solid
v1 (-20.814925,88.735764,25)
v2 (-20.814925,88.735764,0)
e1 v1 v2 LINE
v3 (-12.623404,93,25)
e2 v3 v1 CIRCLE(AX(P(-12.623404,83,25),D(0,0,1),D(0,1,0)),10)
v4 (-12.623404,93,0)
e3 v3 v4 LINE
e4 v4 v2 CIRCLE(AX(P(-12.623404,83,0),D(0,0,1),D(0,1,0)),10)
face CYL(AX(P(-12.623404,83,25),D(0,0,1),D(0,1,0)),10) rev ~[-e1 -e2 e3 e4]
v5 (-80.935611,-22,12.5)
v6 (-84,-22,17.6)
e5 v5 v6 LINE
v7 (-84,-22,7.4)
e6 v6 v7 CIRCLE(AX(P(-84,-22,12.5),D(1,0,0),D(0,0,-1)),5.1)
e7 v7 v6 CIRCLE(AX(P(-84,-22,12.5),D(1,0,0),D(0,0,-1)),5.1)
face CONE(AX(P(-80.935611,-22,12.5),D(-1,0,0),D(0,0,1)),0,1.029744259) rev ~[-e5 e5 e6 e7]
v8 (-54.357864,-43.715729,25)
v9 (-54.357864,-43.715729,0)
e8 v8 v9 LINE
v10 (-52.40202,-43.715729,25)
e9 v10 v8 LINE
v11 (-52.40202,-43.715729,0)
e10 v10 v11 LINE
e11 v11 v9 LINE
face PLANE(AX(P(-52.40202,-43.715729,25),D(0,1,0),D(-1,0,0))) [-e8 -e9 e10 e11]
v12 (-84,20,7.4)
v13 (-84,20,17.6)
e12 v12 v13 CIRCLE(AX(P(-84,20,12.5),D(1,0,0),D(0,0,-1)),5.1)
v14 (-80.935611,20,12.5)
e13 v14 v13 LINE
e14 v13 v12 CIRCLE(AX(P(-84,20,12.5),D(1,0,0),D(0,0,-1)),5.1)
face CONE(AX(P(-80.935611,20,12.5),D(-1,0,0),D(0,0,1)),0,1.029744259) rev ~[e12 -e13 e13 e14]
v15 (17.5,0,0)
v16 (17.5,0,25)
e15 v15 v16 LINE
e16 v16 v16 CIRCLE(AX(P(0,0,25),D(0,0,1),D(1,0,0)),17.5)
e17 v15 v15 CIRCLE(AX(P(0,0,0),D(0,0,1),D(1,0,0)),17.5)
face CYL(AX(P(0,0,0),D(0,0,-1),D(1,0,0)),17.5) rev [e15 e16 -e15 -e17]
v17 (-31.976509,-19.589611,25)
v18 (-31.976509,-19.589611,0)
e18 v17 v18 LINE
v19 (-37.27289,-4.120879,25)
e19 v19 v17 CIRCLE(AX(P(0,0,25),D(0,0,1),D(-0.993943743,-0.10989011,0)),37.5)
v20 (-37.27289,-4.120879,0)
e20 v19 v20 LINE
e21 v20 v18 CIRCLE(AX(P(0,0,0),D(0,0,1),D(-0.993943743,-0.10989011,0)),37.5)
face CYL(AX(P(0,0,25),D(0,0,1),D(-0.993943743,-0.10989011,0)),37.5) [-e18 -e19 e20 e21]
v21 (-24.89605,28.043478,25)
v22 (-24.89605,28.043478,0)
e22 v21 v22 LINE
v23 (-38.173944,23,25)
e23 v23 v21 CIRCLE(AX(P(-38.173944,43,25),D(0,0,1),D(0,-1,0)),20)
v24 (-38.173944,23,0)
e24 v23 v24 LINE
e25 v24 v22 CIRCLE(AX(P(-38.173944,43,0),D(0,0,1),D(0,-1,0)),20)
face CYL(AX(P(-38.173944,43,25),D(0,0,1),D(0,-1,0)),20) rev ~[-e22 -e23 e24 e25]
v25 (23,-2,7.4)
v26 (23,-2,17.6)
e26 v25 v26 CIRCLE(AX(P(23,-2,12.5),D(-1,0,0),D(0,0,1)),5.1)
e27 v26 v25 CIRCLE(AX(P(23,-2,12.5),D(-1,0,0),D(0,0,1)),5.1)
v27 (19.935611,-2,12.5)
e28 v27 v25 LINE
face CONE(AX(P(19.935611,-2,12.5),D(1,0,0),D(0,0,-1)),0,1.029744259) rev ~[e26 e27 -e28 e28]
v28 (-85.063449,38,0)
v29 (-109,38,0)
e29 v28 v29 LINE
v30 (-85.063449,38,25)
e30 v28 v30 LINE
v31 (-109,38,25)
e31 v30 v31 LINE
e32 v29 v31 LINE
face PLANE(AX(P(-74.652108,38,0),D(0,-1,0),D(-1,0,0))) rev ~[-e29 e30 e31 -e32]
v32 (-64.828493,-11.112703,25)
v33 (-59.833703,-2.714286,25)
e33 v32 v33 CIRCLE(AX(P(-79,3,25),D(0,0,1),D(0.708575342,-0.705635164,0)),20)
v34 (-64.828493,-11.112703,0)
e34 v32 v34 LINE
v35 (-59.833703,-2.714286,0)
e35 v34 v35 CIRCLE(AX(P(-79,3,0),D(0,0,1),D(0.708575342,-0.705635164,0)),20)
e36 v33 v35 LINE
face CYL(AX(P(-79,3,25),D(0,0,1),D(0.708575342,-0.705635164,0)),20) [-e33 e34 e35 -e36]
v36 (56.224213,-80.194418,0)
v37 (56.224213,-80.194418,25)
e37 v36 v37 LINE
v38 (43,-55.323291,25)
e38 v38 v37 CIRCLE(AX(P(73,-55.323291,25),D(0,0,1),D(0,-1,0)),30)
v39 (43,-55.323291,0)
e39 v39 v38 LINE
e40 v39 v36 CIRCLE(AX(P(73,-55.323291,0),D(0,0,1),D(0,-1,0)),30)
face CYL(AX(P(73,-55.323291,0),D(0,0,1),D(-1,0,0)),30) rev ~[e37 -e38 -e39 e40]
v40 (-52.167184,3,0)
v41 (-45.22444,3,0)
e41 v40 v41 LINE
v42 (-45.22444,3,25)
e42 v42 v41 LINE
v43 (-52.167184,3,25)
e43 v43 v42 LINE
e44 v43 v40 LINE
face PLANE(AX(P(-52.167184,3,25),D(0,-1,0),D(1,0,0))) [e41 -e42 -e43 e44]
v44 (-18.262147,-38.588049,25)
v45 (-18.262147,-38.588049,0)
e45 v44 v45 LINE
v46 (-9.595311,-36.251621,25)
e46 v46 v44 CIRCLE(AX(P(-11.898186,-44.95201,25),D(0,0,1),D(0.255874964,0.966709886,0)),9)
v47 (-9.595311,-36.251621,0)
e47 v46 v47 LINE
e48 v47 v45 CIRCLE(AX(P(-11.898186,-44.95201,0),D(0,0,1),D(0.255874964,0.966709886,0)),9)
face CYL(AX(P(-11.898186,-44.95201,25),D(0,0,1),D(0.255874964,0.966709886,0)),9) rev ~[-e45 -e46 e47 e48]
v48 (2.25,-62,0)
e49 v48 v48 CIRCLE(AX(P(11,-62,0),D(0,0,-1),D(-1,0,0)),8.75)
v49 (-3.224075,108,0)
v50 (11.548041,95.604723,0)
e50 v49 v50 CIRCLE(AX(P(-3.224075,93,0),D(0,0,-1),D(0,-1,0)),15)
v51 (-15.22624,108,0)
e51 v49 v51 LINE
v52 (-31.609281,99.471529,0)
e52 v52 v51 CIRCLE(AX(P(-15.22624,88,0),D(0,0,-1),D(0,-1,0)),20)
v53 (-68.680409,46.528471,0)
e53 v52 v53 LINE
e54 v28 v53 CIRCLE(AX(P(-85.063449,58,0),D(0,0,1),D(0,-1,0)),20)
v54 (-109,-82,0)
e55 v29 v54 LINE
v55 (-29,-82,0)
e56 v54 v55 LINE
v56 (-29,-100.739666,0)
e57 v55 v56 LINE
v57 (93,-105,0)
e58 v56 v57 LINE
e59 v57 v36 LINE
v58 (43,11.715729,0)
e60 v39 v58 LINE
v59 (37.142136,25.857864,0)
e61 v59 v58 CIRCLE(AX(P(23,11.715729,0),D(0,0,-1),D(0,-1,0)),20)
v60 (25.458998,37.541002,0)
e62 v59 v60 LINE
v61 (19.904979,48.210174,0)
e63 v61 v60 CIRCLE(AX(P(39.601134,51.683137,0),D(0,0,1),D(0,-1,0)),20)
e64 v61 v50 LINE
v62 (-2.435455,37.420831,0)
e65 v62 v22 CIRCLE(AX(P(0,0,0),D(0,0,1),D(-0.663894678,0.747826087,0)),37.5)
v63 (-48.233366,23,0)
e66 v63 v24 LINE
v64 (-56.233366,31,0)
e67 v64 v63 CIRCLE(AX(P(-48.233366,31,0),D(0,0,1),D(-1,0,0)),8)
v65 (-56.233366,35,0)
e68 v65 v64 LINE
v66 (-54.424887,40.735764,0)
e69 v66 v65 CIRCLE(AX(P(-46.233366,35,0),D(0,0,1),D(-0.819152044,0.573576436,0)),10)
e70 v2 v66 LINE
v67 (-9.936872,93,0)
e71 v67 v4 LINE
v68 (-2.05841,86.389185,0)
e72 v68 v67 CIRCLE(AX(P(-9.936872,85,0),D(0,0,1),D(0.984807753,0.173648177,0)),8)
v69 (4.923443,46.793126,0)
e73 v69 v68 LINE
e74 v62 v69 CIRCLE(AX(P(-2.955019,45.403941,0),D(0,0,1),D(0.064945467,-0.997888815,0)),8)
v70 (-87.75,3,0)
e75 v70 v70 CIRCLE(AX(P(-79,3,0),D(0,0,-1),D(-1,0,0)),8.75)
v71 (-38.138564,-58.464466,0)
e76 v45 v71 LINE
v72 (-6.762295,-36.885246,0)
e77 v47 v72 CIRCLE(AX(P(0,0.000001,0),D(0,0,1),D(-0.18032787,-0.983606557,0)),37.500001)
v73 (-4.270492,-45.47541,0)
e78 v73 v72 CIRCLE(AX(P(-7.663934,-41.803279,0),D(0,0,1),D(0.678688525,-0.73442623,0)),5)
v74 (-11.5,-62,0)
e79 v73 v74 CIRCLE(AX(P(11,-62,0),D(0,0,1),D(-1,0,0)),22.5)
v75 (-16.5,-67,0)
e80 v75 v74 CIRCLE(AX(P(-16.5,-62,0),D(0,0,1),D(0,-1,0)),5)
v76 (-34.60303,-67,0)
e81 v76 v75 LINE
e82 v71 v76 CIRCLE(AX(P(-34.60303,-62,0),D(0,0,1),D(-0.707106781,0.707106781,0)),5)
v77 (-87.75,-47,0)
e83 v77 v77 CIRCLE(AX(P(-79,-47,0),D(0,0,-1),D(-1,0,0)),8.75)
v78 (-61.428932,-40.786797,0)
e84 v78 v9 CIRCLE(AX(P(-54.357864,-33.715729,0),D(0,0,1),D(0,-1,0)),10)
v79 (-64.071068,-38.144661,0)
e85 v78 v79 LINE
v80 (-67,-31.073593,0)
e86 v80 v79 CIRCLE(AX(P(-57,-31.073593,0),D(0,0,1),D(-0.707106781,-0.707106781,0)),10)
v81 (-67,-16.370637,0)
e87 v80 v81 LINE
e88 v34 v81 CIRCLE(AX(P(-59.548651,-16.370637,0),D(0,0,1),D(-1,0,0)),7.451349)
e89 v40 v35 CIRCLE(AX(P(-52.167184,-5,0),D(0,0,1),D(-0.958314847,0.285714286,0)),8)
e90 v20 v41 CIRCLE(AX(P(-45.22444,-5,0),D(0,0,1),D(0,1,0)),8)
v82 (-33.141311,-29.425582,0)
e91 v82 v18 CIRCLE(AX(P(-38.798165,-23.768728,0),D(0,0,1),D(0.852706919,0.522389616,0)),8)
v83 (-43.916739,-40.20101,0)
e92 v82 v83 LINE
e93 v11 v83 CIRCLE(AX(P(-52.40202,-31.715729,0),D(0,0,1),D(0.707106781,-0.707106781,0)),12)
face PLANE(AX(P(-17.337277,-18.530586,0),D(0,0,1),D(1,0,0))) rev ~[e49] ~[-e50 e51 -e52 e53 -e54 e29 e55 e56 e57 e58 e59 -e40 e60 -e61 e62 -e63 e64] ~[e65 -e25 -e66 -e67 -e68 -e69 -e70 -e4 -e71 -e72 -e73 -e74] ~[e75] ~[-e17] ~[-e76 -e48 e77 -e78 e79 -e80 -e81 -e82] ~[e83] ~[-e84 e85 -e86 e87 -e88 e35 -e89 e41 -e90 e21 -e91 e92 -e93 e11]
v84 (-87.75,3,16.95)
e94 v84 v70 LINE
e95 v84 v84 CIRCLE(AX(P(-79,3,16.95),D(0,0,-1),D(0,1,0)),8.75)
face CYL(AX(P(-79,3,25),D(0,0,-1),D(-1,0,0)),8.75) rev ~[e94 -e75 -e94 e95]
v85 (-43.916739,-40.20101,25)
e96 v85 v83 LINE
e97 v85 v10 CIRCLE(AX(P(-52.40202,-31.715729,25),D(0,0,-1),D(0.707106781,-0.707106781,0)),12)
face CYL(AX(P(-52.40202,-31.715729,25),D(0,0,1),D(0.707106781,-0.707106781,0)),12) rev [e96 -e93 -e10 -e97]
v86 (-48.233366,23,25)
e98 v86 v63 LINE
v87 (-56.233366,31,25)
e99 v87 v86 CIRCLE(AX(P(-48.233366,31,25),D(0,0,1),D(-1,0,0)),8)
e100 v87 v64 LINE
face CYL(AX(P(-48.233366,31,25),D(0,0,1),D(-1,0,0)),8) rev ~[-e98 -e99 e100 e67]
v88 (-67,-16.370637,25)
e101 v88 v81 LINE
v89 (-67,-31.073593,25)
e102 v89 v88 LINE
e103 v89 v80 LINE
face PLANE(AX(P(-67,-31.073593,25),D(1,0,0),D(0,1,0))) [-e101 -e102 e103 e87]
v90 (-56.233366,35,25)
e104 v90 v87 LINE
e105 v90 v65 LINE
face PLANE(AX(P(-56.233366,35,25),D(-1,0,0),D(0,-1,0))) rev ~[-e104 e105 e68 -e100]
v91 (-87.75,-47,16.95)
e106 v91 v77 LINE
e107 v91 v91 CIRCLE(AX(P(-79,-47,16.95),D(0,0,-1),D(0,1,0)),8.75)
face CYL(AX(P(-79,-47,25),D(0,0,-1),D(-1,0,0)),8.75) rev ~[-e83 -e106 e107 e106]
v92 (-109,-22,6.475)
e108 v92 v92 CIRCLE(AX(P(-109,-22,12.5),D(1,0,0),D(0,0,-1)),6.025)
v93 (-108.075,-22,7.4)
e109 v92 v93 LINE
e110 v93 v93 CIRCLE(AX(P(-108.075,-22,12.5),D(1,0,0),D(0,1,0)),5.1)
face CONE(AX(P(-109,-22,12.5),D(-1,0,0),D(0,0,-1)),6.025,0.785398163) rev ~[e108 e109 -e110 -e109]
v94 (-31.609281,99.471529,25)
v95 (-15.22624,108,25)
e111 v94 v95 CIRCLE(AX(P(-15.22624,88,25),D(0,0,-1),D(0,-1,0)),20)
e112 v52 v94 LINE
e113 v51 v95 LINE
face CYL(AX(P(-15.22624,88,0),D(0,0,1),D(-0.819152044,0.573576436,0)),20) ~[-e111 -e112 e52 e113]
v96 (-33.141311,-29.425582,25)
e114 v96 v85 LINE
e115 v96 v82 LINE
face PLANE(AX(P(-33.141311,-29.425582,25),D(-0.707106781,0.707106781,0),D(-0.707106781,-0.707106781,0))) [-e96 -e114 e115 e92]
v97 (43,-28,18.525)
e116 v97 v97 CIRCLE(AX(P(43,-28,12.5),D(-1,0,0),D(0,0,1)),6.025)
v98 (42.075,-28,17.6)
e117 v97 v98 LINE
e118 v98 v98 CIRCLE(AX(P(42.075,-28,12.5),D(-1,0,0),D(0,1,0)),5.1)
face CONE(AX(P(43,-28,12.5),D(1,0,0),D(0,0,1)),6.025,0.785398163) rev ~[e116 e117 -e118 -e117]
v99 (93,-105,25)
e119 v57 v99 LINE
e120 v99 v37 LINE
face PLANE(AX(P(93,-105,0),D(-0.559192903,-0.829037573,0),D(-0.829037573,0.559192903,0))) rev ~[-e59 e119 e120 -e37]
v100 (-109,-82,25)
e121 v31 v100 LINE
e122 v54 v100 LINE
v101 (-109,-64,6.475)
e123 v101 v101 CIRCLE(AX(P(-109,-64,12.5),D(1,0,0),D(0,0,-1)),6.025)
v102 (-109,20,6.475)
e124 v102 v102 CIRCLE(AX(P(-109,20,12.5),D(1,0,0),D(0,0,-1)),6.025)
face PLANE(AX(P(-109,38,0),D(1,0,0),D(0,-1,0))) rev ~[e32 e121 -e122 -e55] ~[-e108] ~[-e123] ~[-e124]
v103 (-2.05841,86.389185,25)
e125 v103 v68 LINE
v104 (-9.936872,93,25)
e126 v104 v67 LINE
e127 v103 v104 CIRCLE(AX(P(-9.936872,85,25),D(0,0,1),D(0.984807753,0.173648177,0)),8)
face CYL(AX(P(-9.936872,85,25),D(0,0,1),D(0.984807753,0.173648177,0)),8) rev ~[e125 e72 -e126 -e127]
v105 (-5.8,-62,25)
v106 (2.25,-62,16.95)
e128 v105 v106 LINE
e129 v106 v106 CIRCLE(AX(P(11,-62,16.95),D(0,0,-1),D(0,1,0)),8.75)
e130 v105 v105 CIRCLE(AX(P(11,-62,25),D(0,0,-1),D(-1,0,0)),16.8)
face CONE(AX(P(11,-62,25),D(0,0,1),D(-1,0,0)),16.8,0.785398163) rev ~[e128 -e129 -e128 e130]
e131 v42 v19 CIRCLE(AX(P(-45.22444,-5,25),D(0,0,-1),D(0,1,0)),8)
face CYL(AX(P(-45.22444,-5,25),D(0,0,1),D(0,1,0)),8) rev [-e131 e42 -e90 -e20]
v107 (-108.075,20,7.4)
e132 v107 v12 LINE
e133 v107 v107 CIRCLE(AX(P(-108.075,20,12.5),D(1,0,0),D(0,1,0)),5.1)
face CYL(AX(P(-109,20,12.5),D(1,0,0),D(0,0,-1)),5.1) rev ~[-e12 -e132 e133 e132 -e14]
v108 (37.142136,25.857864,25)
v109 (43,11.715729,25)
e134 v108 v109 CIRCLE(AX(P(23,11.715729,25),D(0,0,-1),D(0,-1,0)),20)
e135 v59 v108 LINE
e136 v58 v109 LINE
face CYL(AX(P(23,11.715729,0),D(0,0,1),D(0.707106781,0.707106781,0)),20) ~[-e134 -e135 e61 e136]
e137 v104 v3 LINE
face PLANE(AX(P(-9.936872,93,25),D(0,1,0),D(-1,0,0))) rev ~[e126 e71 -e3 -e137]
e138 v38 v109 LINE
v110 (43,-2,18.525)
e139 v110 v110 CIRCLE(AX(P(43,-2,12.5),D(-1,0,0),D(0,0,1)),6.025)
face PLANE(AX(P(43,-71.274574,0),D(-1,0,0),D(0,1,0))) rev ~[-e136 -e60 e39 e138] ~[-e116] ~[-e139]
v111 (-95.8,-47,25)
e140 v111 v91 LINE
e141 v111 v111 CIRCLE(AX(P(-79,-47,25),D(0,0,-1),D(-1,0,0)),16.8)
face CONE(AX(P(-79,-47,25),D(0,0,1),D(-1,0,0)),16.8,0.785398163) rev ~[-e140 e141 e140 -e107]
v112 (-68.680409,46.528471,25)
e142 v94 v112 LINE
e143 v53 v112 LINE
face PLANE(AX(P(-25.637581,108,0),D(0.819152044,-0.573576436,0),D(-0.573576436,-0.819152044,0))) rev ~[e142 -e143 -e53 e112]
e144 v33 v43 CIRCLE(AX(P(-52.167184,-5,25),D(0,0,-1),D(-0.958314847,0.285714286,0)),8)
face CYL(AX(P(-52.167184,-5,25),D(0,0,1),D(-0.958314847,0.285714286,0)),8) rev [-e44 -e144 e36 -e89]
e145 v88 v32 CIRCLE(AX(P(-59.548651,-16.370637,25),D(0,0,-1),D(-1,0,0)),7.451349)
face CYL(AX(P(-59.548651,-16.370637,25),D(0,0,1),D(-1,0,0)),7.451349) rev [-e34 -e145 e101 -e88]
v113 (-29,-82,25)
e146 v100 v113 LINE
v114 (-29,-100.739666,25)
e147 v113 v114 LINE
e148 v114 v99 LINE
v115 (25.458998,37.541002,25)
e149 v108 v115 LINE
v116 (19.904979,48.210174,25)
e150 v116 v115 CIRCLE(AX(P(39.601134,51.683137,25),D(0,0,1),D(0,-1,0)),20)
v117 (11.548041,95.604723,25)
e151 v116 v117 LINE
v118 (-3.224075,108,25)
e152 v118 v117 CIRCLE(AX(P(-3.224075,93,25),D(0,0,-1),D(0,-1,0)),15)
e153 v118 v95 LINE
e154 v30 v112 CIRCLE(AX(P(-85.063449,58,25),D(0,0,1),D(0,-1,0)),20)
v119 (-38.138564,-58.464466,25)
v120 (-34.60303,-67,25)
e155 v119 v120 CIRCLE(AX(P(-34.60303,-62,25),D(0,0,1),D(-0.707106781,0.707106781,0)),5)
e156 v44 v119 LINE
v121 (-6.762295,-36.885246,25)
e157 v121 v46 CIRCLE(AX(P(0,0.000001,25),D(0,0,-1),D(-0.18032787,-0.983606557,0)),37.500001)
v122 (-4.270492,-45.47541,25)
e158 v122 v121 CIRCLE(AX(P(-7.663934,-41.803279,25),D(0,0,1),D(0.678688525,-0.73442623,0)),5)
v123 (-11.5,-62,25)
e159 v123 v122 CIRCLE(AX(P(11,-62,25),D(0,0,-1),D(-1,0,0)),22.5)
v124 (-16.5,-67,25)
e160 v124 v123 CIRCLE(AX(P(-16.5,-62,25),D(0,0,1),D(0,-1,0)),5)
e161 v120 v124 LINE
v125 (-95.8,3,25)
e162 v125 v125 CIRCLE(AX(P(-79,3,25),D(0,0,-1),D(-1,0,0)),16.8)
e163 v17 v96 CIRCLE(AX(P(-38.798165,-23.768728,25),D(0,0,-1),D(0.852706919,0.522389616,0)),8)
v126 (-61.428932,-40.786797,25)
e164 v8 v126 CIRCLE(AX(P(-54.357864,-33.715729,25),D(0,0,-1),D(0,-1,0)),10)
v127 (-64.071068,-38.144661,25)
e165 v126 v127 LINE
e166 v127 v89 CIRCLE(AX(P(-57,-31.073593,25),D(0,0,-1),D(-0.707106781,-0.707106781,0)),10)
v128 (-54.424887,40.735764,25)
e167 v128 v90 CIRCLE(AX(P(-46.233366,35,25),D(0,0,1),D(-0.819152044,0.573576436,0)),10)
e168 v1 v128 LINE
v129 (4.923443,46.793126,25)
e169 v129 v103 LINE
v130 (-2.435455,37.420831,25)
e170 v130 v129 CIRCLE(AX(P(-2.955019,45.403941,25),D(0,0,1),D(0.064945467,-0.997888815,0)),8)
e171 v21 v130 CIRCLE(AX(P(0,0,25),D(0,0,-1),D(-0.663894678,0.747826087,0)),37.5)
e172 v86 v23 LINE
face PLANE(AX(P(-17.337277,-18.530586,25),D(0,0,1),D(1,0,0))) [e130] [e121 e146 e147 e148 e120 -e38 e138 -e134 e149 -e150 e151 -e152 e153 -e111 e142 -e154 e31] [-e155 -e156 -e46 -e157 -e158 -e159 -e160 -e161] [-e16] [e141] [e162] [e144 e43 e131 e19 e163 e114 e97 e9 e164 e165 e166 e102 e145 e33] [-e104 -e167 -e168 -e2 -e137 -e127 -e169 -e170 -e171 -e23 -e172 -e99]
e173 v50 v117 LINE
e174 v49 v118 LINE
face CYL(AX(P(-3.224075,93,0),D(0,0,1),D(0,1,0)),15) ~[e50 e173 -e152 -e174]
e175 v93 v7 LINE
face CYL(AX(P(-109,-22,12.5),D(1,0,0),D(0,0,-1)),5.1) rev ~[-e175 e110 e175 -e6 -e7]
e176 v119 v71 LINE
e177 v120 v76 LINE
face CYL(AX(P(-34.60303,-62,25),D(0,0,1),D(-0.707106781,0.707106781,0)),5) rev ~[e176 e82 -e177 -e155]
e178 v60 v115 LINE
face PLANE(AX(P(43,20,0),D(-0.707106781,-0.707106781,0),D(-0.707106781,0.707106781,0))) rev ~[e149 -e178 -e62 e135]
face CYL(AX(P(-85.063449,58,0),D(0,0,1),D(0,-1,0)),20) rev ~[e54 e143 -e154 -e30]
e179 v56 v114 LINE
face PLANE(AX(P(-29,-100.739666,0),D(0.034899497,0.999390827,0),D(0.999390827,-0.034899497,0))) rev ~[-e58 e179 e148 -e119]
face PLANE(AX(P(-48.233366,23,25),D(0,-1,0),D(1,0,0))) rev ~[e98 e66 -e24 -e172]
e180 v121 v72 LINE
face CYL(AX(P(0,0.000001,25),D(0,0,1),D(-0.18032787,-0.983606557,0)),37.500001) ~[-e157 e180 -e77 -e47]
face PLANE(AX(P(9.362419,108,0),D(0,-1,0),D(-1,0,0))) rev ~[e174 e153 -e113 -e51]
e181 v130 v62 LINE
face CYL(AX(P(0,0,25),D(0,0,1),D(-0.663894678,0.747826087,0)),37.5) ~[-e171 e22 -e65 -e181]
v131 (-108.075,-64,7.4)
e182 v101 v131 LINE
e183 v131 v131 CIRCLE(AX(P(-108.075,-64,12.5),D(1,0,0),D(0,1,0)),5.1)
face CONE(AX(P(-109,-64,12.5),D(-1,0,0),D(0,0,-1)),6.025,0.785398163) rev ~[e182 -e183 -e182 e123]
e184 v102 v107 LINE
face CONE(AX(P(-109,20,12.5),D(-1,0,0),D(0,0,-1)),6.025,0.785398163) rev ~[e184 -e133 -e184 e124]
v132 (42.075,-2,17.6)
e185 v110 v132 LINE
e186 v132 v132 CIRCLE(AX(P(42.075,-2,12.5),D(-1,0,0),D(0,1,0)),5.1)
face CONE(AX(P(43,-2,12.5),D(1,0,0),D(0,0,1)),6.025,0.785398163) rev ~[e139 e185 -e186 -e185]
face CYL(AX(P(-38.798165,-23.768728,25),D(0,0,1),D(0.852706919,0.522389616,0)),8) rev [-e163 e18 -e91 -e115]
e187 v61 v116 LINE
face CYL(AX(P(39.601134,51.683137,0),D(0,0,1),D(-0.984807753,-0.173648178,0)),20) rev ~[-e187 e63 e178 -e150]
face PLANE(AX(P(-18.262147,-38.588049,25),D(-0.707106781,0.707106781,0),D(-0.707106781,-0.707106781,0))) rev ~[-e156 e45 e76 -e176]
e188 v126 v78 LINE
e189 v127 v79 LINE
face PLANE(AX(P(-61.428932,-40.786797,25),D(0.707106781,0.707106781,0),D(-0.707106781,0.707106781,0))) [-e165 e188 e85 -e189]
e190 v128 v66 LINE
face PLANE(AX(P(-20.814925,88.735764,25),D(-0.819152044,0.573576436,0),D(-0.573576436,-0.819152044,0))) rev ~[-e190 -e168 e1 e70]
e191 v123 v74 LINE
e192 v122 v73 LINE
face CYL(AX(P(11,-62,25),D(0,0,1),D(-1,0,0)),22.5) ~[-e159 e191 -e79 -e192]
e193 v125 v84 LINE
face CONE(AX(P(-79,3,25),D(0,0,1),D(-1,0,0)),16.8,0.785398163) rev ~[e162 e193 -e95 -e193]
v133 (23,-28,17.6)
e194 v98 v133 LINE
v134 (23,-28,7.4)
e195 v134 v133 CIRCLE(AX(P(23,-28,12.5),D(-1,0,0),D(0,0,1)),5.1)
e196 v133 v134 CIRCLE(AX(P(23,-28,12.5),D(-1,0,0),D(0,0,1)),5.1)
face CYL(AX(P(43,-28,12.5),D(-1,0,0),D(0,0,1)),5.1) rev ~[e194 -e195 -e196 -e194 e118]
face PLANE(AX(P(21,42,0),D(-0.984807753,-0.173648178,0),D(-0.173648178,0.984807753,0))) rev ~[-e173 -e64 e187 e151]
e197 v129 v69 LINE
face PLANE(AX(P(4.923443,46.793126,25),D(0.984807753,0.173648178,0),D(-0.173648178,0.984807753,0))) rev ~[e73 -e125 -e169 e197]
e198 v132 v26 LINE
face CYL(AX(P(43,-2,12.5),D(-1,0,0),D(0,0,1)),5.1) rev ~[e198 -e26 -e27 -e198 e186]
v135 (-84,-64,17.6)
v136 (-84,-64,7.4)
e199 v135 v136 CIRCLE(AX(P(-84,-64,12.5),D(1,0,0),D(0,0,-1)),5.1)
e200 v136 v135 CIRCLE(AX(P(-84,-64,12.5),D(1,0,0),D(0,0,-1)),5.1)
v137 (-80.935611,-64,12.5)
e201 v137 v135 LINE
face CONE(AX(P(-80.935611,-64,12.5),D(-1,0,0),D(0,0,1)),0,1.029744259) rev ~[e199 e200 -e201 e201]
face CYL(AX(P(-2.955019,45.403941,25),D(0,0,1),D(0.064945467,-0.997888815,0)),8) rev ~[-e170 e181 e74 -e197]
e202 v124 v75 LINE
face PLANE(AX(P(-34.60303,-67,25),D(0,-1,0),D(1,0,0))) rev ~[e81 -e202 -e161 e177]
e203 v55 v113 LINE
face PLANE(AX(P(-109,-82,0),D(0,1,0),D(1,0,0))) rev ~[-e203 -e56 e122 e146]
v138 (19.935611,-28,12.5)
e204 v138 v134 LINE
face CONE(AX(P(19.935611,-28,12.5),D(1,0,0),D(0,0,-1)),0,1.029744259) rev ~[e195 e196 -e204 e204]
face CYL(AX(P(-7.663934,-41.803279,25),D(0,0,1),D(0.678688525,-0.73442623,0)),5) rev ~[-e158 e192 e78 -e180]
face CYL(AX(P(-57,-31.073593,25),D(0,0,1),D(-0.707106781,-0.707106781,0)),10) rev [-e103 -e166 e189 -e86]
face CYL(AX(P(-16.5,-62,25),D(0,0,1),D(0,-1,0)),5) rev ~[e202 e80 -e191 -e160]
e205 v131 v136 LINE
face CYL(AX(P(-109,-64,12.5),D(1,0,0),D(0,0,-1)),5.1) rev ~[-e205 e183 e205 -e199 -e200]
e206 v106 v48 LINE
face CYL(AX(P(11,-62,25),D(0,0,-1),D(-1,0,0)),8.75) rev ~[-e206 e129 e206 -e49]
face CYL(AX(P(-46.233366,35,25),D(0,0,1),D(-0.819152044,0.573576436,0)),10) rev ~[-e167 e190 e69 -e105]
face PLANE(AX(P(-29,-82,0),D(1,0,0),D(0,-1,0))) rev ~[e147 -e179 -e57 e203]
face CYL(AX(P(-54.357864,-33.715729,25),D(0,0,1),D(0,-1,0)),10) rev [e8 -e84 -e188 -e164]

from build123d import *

# Parameters (mm, degrees)
ESBO_O1_R                                           = 17.5
RESSALTO_EXTRUS_O1_DEPTH                            = 25
FILETE1_R                                           = 20
FILETE3_R                                           = 15
CORTE_EXTRUS_O1_DEPTH                               = 156.467038307
ESCAREADO_PARA_PARAFUSO_ALLEN_SEXTAVADO_D           = 17.5
ESCAREADO_PARA_PARAFUSO_ALLEN_SEXTAVADO_CSINK_D     = 33.6
ESCAREADO_PARA_PARAFUSO_ALLEN_SEXTAVADO_CSINK_ANGLE = 90
FURO_ROSCADO_DE_M121_D                              = 10.2
FURO_ROSCADO_DE_M121_DEPTH                          = 25
FURO_ROSCADO_DE_M121_CSINK_D                        = 12.05
FURO_ROSCADO_DE_M121_CSINK_ANGLE                    = 90
FURO_ROSCADO_DE_M121_TIP                            = 3.064389157
FURO_ROSCADO_DE_M122_D                              = 10.2
FURO_ROSCADO_DE_M122_DEPTH                          = 20
FURO_ROSCADO_DE_M122_CSINK_D                        = 12.05
FURO_ROSCADO_DE_M122_CSINK_ANGLE                    = 90
FURO_ROSCADO_DE_M122_TIP                            = 3.064389157
FILETE12_R                                          = 30


with BuildPart() as part:
    # Esboço1 → Ressalto-extrusão1 (new body)
    with BuildSketch(Plane.XY):
        Polygon((-109, 38), (-109, -82), (-29, -82), (-29, -100.739666122), (93, -105), (43, -71.274574158), (43, 20), (21, 42), (9.362419273, 108), (-25.637580727, 108), (-74.652108401, 38), align=None)
        Circle(ESBO_O1_R, mode=Mode.SUBTRACT)
    extrude(amount=RESSALTO_EXTRUS_O1_DEPTH)

    # Filete1
    filete1_edges = [part.edges().sort_by_distance(p)[0] for p in [
        (21, 42, 12.5),
        (43, 20, 12.5),
        (-74.652108401, 38, 12.5),
        (-25.637580727, 108, 12.5),
    ]]
    fillet(filete1_edges, radius=FILETE1_R)

    # Filete3
    filete3_edges = [part.edges().sort_by_distance(p)[0] for p in [
        (9.362419273, 108, 12.5),
    ]]
    fillet(filete3_edges, radius=FILETE3_R)

    # Esboço2 → Corte-extrusão1 (cut, through all)
    with BuildSketch(Plane.XY.offset(25)):
        with BuildLine():
            Line((-20.814924906, 88.735764364), (-54.42488674, 40.735764364))
            ThreePointArc((-54.42488674, 40.735764364), (-55.770535805, 38.007057995), (-56.233366297, 35))
            Line((-56.233366297, 35), (-56.233366297, 31))
            ThreePointArc((-56.233366297, 31), (-53.890220547, 25.343145751), (-48.233366297, 23))
            Line((-48.233366297, 23), (-38.173943993, 23))
            ThreePointArc((-38.173943993, 23), (-31.072198954, 24.303336731), (-24.89605043, 28.043478261))
            ThreePointArc((-24.89605043, 28.043478261), (-14.44771543, 34.605108277), (-2.435454992, 37.420830549))
            ThreePointArc((-2.435454992, 37.420830549), (3.337174211, 40.463464565), (4.9234433, 46.793126488))
            Line((4.9234433, 46.793126488), (-2.05841022, 86.389185421))
            ThreePointArc((-2.05841022, 86.389185421), (-4.794571366, 91.128355545), (-9.936872244, 93))
            Line((-9.936872244, 93), (-12.623404463, 93))
            ThreePointArc((-12.623404463, 93), (-17.240890595, 91.870108332), (-20.814924906, 88.735764364))
        make_face()
        with BuildLine():
            Line((-52.16718427, 3), (-45.224440295, 3))
            ThreePointArc((-45.224440295, 3), (-39.887445215, 0.959570749), (-37.272890353, -4.120879121))
            ThreePointArc((-37.272890353, -4.120879121), (-35.47802498, -12.147417153), (-31.976509443, -19.589610609))
            ThreePointArc((-31.976509443, -19.589610609), (-30.853677224, -24.709534266), (-33.141310542, -29.425581789))
            Line((-33.141310542, -29.425581789), (-43.916738879, -40.201010127))
            ThreePointArc((-43.916738879, -40.201010127), (-47.809819065, -42.802283143), (-52.402020254, -43.715728753))
            Line((-52.402020254, -43.715728753), (-54.357864376, -43.715728753))
            ThreePointArc((-54.357864376, -43.715728753), (-58.1846987, -42.954524078), (-61.428932188, -40.786796564))
            Line((-61.428932188, -40.786796564), (-64.071067812, -38.144660941))
            ThreePointArc((-64.071067812, -38.144660941), (-66.238795325, -34.900427452), (-67, -31.073593129))
            Line((-67, -31.073593129), (-67, -16.370637166))
            ThreePointArc((-67, -16.370637166), (-66.435760282, -13.526287035), (-64.828493161, -11.112703282))
            ThreePointArc((-64.828493161, -11.112703282), (-61.810304111, -7.223226263), (-59.83370305, -2.714285714))
            ThreePointArc((-59.83370305, -2.714285714), (-56.948098707, 1.414269806), (-52.16718427, 3))
        make_face()
        with BuildLine():
            Line((-18.262146843, -38.588048651), (-38.138564286, -58.464466094))
            ThreePointArc((-38.138564286, -58.464466094), (-39.222428043, -63.913417162), (-34.60303038, -67))
            Line((-34.60303038, -67), (-16.5, -67))
            ThreePointArc((-16.5, -67), (-12.964466094, -65.535533906), (-11.5, -62))
            ThreePointArc((-11.5, -62), (-9.613540035, -52.981576235), (-4.270491803, -45.475409836))
            ThreePointArc((-4.270491803, -45.475409836), (-2.861886802, -40.410318309), (-6.762295082, -36.885245902))
            ThreePointArc((-6.762295082, -36.885245902), (-8.184936807, -36.595857818), (-9.595311139, -36.251620711))
            ThreePointArc((-9.595311139, -36.251620711), (-14.240797491, -36.262235776), (-18.262146843, -38.588048651))
        make_face()
    extrude(amount=-CORTE_EXTRUS_O1_DEPTH, mode=Mode.SUBTRACT)

    # Escareado para parafuso Allen sextavado (through all)
    with Locations(Plane(origin=(-79, 3, 25), x_dir=(1, 0, 0), z_dir=(0, 0, 1))):
        with Locations((0, 0), (0, -50), (90, -65)):
            CounterSinkHole(ESCAREADO_PARA_PARAFUSO_ALLEN_SEXTAVADO_D / 2, ESCAREADO_PARA_PARAFUSO_ALLEN_SEXTAVADO_CSINK_D / 2, counter_sink_angle=ESCAREADO_PARA_PARAFUSO_ALLEN_SEXTAVADO_CSINK_ANGLE)

    # Furo roscado de M121
    with Locations(Plane.ZY.offset(109)):
        with Locations((12.5, 20), (12.5, -22), (12.5, -64)):
            CounterSinkHole(FURO_ROSCADO_DE_M121_D / 2, FURO_ROSCADO_DE_M121_CSINK_D / 2, depth=FURO_ROSCADO_DE_M121_DEPTH, counter_sink_angle=FURO_ROSCADO_DE_M121_CSINK_ANGLE)
            with Locations((0, 0, -(FURO_ROSCADO_DE_M121_DEPTH + FURO_ROSCADO_DE_M121_TIP / 2))):  # 118° drill point
                Cone(0, FURO_ROSCADO_DE_M121_D / 2, FURO_ROSCADO_DE_M121_TIP, mode=Mode.SUBTRACT)

    # Furo roscado de M122
    with Locations(Plane(origin=(43, 0, 0), x_dir=(0, 0, -1), z_dir=(1, 0, 0))):
        with Locations((-12.5, -2), (-12.5, -28)):
            CounterSinkHole(FURO_ROSCADO_DE_M122_D / 2, FURO_ROSCADO_DE_M122_CSINK_D / 2, depth=FURO_ROSCADO_DE_M122_DEPTH, counter_sink_angle=FURO_ROSCADO_DE_M122_CSINK_ANGLE)
            with Locations((0, 0, -(FURO_ROSCADO_DE_M122_DEPTH + FURO_ROSCADO_DE_M122_TIP / 2))):  # 118° drill point
                Cone(0, FURO_ROSCADO_DE_M122_D / 2, FURO_ROSCADO_DE_M122_TIP, mode=Mode.SUBTRACT)

    # Filete12
    filete12_edges = [part.edges().sort_by_distance(p)[0] for p in [
        (43, -71.274574158, 12.5),
    ]]
    fillet(filete12_edges, radius=FILETE12_R)


solid = part.part
